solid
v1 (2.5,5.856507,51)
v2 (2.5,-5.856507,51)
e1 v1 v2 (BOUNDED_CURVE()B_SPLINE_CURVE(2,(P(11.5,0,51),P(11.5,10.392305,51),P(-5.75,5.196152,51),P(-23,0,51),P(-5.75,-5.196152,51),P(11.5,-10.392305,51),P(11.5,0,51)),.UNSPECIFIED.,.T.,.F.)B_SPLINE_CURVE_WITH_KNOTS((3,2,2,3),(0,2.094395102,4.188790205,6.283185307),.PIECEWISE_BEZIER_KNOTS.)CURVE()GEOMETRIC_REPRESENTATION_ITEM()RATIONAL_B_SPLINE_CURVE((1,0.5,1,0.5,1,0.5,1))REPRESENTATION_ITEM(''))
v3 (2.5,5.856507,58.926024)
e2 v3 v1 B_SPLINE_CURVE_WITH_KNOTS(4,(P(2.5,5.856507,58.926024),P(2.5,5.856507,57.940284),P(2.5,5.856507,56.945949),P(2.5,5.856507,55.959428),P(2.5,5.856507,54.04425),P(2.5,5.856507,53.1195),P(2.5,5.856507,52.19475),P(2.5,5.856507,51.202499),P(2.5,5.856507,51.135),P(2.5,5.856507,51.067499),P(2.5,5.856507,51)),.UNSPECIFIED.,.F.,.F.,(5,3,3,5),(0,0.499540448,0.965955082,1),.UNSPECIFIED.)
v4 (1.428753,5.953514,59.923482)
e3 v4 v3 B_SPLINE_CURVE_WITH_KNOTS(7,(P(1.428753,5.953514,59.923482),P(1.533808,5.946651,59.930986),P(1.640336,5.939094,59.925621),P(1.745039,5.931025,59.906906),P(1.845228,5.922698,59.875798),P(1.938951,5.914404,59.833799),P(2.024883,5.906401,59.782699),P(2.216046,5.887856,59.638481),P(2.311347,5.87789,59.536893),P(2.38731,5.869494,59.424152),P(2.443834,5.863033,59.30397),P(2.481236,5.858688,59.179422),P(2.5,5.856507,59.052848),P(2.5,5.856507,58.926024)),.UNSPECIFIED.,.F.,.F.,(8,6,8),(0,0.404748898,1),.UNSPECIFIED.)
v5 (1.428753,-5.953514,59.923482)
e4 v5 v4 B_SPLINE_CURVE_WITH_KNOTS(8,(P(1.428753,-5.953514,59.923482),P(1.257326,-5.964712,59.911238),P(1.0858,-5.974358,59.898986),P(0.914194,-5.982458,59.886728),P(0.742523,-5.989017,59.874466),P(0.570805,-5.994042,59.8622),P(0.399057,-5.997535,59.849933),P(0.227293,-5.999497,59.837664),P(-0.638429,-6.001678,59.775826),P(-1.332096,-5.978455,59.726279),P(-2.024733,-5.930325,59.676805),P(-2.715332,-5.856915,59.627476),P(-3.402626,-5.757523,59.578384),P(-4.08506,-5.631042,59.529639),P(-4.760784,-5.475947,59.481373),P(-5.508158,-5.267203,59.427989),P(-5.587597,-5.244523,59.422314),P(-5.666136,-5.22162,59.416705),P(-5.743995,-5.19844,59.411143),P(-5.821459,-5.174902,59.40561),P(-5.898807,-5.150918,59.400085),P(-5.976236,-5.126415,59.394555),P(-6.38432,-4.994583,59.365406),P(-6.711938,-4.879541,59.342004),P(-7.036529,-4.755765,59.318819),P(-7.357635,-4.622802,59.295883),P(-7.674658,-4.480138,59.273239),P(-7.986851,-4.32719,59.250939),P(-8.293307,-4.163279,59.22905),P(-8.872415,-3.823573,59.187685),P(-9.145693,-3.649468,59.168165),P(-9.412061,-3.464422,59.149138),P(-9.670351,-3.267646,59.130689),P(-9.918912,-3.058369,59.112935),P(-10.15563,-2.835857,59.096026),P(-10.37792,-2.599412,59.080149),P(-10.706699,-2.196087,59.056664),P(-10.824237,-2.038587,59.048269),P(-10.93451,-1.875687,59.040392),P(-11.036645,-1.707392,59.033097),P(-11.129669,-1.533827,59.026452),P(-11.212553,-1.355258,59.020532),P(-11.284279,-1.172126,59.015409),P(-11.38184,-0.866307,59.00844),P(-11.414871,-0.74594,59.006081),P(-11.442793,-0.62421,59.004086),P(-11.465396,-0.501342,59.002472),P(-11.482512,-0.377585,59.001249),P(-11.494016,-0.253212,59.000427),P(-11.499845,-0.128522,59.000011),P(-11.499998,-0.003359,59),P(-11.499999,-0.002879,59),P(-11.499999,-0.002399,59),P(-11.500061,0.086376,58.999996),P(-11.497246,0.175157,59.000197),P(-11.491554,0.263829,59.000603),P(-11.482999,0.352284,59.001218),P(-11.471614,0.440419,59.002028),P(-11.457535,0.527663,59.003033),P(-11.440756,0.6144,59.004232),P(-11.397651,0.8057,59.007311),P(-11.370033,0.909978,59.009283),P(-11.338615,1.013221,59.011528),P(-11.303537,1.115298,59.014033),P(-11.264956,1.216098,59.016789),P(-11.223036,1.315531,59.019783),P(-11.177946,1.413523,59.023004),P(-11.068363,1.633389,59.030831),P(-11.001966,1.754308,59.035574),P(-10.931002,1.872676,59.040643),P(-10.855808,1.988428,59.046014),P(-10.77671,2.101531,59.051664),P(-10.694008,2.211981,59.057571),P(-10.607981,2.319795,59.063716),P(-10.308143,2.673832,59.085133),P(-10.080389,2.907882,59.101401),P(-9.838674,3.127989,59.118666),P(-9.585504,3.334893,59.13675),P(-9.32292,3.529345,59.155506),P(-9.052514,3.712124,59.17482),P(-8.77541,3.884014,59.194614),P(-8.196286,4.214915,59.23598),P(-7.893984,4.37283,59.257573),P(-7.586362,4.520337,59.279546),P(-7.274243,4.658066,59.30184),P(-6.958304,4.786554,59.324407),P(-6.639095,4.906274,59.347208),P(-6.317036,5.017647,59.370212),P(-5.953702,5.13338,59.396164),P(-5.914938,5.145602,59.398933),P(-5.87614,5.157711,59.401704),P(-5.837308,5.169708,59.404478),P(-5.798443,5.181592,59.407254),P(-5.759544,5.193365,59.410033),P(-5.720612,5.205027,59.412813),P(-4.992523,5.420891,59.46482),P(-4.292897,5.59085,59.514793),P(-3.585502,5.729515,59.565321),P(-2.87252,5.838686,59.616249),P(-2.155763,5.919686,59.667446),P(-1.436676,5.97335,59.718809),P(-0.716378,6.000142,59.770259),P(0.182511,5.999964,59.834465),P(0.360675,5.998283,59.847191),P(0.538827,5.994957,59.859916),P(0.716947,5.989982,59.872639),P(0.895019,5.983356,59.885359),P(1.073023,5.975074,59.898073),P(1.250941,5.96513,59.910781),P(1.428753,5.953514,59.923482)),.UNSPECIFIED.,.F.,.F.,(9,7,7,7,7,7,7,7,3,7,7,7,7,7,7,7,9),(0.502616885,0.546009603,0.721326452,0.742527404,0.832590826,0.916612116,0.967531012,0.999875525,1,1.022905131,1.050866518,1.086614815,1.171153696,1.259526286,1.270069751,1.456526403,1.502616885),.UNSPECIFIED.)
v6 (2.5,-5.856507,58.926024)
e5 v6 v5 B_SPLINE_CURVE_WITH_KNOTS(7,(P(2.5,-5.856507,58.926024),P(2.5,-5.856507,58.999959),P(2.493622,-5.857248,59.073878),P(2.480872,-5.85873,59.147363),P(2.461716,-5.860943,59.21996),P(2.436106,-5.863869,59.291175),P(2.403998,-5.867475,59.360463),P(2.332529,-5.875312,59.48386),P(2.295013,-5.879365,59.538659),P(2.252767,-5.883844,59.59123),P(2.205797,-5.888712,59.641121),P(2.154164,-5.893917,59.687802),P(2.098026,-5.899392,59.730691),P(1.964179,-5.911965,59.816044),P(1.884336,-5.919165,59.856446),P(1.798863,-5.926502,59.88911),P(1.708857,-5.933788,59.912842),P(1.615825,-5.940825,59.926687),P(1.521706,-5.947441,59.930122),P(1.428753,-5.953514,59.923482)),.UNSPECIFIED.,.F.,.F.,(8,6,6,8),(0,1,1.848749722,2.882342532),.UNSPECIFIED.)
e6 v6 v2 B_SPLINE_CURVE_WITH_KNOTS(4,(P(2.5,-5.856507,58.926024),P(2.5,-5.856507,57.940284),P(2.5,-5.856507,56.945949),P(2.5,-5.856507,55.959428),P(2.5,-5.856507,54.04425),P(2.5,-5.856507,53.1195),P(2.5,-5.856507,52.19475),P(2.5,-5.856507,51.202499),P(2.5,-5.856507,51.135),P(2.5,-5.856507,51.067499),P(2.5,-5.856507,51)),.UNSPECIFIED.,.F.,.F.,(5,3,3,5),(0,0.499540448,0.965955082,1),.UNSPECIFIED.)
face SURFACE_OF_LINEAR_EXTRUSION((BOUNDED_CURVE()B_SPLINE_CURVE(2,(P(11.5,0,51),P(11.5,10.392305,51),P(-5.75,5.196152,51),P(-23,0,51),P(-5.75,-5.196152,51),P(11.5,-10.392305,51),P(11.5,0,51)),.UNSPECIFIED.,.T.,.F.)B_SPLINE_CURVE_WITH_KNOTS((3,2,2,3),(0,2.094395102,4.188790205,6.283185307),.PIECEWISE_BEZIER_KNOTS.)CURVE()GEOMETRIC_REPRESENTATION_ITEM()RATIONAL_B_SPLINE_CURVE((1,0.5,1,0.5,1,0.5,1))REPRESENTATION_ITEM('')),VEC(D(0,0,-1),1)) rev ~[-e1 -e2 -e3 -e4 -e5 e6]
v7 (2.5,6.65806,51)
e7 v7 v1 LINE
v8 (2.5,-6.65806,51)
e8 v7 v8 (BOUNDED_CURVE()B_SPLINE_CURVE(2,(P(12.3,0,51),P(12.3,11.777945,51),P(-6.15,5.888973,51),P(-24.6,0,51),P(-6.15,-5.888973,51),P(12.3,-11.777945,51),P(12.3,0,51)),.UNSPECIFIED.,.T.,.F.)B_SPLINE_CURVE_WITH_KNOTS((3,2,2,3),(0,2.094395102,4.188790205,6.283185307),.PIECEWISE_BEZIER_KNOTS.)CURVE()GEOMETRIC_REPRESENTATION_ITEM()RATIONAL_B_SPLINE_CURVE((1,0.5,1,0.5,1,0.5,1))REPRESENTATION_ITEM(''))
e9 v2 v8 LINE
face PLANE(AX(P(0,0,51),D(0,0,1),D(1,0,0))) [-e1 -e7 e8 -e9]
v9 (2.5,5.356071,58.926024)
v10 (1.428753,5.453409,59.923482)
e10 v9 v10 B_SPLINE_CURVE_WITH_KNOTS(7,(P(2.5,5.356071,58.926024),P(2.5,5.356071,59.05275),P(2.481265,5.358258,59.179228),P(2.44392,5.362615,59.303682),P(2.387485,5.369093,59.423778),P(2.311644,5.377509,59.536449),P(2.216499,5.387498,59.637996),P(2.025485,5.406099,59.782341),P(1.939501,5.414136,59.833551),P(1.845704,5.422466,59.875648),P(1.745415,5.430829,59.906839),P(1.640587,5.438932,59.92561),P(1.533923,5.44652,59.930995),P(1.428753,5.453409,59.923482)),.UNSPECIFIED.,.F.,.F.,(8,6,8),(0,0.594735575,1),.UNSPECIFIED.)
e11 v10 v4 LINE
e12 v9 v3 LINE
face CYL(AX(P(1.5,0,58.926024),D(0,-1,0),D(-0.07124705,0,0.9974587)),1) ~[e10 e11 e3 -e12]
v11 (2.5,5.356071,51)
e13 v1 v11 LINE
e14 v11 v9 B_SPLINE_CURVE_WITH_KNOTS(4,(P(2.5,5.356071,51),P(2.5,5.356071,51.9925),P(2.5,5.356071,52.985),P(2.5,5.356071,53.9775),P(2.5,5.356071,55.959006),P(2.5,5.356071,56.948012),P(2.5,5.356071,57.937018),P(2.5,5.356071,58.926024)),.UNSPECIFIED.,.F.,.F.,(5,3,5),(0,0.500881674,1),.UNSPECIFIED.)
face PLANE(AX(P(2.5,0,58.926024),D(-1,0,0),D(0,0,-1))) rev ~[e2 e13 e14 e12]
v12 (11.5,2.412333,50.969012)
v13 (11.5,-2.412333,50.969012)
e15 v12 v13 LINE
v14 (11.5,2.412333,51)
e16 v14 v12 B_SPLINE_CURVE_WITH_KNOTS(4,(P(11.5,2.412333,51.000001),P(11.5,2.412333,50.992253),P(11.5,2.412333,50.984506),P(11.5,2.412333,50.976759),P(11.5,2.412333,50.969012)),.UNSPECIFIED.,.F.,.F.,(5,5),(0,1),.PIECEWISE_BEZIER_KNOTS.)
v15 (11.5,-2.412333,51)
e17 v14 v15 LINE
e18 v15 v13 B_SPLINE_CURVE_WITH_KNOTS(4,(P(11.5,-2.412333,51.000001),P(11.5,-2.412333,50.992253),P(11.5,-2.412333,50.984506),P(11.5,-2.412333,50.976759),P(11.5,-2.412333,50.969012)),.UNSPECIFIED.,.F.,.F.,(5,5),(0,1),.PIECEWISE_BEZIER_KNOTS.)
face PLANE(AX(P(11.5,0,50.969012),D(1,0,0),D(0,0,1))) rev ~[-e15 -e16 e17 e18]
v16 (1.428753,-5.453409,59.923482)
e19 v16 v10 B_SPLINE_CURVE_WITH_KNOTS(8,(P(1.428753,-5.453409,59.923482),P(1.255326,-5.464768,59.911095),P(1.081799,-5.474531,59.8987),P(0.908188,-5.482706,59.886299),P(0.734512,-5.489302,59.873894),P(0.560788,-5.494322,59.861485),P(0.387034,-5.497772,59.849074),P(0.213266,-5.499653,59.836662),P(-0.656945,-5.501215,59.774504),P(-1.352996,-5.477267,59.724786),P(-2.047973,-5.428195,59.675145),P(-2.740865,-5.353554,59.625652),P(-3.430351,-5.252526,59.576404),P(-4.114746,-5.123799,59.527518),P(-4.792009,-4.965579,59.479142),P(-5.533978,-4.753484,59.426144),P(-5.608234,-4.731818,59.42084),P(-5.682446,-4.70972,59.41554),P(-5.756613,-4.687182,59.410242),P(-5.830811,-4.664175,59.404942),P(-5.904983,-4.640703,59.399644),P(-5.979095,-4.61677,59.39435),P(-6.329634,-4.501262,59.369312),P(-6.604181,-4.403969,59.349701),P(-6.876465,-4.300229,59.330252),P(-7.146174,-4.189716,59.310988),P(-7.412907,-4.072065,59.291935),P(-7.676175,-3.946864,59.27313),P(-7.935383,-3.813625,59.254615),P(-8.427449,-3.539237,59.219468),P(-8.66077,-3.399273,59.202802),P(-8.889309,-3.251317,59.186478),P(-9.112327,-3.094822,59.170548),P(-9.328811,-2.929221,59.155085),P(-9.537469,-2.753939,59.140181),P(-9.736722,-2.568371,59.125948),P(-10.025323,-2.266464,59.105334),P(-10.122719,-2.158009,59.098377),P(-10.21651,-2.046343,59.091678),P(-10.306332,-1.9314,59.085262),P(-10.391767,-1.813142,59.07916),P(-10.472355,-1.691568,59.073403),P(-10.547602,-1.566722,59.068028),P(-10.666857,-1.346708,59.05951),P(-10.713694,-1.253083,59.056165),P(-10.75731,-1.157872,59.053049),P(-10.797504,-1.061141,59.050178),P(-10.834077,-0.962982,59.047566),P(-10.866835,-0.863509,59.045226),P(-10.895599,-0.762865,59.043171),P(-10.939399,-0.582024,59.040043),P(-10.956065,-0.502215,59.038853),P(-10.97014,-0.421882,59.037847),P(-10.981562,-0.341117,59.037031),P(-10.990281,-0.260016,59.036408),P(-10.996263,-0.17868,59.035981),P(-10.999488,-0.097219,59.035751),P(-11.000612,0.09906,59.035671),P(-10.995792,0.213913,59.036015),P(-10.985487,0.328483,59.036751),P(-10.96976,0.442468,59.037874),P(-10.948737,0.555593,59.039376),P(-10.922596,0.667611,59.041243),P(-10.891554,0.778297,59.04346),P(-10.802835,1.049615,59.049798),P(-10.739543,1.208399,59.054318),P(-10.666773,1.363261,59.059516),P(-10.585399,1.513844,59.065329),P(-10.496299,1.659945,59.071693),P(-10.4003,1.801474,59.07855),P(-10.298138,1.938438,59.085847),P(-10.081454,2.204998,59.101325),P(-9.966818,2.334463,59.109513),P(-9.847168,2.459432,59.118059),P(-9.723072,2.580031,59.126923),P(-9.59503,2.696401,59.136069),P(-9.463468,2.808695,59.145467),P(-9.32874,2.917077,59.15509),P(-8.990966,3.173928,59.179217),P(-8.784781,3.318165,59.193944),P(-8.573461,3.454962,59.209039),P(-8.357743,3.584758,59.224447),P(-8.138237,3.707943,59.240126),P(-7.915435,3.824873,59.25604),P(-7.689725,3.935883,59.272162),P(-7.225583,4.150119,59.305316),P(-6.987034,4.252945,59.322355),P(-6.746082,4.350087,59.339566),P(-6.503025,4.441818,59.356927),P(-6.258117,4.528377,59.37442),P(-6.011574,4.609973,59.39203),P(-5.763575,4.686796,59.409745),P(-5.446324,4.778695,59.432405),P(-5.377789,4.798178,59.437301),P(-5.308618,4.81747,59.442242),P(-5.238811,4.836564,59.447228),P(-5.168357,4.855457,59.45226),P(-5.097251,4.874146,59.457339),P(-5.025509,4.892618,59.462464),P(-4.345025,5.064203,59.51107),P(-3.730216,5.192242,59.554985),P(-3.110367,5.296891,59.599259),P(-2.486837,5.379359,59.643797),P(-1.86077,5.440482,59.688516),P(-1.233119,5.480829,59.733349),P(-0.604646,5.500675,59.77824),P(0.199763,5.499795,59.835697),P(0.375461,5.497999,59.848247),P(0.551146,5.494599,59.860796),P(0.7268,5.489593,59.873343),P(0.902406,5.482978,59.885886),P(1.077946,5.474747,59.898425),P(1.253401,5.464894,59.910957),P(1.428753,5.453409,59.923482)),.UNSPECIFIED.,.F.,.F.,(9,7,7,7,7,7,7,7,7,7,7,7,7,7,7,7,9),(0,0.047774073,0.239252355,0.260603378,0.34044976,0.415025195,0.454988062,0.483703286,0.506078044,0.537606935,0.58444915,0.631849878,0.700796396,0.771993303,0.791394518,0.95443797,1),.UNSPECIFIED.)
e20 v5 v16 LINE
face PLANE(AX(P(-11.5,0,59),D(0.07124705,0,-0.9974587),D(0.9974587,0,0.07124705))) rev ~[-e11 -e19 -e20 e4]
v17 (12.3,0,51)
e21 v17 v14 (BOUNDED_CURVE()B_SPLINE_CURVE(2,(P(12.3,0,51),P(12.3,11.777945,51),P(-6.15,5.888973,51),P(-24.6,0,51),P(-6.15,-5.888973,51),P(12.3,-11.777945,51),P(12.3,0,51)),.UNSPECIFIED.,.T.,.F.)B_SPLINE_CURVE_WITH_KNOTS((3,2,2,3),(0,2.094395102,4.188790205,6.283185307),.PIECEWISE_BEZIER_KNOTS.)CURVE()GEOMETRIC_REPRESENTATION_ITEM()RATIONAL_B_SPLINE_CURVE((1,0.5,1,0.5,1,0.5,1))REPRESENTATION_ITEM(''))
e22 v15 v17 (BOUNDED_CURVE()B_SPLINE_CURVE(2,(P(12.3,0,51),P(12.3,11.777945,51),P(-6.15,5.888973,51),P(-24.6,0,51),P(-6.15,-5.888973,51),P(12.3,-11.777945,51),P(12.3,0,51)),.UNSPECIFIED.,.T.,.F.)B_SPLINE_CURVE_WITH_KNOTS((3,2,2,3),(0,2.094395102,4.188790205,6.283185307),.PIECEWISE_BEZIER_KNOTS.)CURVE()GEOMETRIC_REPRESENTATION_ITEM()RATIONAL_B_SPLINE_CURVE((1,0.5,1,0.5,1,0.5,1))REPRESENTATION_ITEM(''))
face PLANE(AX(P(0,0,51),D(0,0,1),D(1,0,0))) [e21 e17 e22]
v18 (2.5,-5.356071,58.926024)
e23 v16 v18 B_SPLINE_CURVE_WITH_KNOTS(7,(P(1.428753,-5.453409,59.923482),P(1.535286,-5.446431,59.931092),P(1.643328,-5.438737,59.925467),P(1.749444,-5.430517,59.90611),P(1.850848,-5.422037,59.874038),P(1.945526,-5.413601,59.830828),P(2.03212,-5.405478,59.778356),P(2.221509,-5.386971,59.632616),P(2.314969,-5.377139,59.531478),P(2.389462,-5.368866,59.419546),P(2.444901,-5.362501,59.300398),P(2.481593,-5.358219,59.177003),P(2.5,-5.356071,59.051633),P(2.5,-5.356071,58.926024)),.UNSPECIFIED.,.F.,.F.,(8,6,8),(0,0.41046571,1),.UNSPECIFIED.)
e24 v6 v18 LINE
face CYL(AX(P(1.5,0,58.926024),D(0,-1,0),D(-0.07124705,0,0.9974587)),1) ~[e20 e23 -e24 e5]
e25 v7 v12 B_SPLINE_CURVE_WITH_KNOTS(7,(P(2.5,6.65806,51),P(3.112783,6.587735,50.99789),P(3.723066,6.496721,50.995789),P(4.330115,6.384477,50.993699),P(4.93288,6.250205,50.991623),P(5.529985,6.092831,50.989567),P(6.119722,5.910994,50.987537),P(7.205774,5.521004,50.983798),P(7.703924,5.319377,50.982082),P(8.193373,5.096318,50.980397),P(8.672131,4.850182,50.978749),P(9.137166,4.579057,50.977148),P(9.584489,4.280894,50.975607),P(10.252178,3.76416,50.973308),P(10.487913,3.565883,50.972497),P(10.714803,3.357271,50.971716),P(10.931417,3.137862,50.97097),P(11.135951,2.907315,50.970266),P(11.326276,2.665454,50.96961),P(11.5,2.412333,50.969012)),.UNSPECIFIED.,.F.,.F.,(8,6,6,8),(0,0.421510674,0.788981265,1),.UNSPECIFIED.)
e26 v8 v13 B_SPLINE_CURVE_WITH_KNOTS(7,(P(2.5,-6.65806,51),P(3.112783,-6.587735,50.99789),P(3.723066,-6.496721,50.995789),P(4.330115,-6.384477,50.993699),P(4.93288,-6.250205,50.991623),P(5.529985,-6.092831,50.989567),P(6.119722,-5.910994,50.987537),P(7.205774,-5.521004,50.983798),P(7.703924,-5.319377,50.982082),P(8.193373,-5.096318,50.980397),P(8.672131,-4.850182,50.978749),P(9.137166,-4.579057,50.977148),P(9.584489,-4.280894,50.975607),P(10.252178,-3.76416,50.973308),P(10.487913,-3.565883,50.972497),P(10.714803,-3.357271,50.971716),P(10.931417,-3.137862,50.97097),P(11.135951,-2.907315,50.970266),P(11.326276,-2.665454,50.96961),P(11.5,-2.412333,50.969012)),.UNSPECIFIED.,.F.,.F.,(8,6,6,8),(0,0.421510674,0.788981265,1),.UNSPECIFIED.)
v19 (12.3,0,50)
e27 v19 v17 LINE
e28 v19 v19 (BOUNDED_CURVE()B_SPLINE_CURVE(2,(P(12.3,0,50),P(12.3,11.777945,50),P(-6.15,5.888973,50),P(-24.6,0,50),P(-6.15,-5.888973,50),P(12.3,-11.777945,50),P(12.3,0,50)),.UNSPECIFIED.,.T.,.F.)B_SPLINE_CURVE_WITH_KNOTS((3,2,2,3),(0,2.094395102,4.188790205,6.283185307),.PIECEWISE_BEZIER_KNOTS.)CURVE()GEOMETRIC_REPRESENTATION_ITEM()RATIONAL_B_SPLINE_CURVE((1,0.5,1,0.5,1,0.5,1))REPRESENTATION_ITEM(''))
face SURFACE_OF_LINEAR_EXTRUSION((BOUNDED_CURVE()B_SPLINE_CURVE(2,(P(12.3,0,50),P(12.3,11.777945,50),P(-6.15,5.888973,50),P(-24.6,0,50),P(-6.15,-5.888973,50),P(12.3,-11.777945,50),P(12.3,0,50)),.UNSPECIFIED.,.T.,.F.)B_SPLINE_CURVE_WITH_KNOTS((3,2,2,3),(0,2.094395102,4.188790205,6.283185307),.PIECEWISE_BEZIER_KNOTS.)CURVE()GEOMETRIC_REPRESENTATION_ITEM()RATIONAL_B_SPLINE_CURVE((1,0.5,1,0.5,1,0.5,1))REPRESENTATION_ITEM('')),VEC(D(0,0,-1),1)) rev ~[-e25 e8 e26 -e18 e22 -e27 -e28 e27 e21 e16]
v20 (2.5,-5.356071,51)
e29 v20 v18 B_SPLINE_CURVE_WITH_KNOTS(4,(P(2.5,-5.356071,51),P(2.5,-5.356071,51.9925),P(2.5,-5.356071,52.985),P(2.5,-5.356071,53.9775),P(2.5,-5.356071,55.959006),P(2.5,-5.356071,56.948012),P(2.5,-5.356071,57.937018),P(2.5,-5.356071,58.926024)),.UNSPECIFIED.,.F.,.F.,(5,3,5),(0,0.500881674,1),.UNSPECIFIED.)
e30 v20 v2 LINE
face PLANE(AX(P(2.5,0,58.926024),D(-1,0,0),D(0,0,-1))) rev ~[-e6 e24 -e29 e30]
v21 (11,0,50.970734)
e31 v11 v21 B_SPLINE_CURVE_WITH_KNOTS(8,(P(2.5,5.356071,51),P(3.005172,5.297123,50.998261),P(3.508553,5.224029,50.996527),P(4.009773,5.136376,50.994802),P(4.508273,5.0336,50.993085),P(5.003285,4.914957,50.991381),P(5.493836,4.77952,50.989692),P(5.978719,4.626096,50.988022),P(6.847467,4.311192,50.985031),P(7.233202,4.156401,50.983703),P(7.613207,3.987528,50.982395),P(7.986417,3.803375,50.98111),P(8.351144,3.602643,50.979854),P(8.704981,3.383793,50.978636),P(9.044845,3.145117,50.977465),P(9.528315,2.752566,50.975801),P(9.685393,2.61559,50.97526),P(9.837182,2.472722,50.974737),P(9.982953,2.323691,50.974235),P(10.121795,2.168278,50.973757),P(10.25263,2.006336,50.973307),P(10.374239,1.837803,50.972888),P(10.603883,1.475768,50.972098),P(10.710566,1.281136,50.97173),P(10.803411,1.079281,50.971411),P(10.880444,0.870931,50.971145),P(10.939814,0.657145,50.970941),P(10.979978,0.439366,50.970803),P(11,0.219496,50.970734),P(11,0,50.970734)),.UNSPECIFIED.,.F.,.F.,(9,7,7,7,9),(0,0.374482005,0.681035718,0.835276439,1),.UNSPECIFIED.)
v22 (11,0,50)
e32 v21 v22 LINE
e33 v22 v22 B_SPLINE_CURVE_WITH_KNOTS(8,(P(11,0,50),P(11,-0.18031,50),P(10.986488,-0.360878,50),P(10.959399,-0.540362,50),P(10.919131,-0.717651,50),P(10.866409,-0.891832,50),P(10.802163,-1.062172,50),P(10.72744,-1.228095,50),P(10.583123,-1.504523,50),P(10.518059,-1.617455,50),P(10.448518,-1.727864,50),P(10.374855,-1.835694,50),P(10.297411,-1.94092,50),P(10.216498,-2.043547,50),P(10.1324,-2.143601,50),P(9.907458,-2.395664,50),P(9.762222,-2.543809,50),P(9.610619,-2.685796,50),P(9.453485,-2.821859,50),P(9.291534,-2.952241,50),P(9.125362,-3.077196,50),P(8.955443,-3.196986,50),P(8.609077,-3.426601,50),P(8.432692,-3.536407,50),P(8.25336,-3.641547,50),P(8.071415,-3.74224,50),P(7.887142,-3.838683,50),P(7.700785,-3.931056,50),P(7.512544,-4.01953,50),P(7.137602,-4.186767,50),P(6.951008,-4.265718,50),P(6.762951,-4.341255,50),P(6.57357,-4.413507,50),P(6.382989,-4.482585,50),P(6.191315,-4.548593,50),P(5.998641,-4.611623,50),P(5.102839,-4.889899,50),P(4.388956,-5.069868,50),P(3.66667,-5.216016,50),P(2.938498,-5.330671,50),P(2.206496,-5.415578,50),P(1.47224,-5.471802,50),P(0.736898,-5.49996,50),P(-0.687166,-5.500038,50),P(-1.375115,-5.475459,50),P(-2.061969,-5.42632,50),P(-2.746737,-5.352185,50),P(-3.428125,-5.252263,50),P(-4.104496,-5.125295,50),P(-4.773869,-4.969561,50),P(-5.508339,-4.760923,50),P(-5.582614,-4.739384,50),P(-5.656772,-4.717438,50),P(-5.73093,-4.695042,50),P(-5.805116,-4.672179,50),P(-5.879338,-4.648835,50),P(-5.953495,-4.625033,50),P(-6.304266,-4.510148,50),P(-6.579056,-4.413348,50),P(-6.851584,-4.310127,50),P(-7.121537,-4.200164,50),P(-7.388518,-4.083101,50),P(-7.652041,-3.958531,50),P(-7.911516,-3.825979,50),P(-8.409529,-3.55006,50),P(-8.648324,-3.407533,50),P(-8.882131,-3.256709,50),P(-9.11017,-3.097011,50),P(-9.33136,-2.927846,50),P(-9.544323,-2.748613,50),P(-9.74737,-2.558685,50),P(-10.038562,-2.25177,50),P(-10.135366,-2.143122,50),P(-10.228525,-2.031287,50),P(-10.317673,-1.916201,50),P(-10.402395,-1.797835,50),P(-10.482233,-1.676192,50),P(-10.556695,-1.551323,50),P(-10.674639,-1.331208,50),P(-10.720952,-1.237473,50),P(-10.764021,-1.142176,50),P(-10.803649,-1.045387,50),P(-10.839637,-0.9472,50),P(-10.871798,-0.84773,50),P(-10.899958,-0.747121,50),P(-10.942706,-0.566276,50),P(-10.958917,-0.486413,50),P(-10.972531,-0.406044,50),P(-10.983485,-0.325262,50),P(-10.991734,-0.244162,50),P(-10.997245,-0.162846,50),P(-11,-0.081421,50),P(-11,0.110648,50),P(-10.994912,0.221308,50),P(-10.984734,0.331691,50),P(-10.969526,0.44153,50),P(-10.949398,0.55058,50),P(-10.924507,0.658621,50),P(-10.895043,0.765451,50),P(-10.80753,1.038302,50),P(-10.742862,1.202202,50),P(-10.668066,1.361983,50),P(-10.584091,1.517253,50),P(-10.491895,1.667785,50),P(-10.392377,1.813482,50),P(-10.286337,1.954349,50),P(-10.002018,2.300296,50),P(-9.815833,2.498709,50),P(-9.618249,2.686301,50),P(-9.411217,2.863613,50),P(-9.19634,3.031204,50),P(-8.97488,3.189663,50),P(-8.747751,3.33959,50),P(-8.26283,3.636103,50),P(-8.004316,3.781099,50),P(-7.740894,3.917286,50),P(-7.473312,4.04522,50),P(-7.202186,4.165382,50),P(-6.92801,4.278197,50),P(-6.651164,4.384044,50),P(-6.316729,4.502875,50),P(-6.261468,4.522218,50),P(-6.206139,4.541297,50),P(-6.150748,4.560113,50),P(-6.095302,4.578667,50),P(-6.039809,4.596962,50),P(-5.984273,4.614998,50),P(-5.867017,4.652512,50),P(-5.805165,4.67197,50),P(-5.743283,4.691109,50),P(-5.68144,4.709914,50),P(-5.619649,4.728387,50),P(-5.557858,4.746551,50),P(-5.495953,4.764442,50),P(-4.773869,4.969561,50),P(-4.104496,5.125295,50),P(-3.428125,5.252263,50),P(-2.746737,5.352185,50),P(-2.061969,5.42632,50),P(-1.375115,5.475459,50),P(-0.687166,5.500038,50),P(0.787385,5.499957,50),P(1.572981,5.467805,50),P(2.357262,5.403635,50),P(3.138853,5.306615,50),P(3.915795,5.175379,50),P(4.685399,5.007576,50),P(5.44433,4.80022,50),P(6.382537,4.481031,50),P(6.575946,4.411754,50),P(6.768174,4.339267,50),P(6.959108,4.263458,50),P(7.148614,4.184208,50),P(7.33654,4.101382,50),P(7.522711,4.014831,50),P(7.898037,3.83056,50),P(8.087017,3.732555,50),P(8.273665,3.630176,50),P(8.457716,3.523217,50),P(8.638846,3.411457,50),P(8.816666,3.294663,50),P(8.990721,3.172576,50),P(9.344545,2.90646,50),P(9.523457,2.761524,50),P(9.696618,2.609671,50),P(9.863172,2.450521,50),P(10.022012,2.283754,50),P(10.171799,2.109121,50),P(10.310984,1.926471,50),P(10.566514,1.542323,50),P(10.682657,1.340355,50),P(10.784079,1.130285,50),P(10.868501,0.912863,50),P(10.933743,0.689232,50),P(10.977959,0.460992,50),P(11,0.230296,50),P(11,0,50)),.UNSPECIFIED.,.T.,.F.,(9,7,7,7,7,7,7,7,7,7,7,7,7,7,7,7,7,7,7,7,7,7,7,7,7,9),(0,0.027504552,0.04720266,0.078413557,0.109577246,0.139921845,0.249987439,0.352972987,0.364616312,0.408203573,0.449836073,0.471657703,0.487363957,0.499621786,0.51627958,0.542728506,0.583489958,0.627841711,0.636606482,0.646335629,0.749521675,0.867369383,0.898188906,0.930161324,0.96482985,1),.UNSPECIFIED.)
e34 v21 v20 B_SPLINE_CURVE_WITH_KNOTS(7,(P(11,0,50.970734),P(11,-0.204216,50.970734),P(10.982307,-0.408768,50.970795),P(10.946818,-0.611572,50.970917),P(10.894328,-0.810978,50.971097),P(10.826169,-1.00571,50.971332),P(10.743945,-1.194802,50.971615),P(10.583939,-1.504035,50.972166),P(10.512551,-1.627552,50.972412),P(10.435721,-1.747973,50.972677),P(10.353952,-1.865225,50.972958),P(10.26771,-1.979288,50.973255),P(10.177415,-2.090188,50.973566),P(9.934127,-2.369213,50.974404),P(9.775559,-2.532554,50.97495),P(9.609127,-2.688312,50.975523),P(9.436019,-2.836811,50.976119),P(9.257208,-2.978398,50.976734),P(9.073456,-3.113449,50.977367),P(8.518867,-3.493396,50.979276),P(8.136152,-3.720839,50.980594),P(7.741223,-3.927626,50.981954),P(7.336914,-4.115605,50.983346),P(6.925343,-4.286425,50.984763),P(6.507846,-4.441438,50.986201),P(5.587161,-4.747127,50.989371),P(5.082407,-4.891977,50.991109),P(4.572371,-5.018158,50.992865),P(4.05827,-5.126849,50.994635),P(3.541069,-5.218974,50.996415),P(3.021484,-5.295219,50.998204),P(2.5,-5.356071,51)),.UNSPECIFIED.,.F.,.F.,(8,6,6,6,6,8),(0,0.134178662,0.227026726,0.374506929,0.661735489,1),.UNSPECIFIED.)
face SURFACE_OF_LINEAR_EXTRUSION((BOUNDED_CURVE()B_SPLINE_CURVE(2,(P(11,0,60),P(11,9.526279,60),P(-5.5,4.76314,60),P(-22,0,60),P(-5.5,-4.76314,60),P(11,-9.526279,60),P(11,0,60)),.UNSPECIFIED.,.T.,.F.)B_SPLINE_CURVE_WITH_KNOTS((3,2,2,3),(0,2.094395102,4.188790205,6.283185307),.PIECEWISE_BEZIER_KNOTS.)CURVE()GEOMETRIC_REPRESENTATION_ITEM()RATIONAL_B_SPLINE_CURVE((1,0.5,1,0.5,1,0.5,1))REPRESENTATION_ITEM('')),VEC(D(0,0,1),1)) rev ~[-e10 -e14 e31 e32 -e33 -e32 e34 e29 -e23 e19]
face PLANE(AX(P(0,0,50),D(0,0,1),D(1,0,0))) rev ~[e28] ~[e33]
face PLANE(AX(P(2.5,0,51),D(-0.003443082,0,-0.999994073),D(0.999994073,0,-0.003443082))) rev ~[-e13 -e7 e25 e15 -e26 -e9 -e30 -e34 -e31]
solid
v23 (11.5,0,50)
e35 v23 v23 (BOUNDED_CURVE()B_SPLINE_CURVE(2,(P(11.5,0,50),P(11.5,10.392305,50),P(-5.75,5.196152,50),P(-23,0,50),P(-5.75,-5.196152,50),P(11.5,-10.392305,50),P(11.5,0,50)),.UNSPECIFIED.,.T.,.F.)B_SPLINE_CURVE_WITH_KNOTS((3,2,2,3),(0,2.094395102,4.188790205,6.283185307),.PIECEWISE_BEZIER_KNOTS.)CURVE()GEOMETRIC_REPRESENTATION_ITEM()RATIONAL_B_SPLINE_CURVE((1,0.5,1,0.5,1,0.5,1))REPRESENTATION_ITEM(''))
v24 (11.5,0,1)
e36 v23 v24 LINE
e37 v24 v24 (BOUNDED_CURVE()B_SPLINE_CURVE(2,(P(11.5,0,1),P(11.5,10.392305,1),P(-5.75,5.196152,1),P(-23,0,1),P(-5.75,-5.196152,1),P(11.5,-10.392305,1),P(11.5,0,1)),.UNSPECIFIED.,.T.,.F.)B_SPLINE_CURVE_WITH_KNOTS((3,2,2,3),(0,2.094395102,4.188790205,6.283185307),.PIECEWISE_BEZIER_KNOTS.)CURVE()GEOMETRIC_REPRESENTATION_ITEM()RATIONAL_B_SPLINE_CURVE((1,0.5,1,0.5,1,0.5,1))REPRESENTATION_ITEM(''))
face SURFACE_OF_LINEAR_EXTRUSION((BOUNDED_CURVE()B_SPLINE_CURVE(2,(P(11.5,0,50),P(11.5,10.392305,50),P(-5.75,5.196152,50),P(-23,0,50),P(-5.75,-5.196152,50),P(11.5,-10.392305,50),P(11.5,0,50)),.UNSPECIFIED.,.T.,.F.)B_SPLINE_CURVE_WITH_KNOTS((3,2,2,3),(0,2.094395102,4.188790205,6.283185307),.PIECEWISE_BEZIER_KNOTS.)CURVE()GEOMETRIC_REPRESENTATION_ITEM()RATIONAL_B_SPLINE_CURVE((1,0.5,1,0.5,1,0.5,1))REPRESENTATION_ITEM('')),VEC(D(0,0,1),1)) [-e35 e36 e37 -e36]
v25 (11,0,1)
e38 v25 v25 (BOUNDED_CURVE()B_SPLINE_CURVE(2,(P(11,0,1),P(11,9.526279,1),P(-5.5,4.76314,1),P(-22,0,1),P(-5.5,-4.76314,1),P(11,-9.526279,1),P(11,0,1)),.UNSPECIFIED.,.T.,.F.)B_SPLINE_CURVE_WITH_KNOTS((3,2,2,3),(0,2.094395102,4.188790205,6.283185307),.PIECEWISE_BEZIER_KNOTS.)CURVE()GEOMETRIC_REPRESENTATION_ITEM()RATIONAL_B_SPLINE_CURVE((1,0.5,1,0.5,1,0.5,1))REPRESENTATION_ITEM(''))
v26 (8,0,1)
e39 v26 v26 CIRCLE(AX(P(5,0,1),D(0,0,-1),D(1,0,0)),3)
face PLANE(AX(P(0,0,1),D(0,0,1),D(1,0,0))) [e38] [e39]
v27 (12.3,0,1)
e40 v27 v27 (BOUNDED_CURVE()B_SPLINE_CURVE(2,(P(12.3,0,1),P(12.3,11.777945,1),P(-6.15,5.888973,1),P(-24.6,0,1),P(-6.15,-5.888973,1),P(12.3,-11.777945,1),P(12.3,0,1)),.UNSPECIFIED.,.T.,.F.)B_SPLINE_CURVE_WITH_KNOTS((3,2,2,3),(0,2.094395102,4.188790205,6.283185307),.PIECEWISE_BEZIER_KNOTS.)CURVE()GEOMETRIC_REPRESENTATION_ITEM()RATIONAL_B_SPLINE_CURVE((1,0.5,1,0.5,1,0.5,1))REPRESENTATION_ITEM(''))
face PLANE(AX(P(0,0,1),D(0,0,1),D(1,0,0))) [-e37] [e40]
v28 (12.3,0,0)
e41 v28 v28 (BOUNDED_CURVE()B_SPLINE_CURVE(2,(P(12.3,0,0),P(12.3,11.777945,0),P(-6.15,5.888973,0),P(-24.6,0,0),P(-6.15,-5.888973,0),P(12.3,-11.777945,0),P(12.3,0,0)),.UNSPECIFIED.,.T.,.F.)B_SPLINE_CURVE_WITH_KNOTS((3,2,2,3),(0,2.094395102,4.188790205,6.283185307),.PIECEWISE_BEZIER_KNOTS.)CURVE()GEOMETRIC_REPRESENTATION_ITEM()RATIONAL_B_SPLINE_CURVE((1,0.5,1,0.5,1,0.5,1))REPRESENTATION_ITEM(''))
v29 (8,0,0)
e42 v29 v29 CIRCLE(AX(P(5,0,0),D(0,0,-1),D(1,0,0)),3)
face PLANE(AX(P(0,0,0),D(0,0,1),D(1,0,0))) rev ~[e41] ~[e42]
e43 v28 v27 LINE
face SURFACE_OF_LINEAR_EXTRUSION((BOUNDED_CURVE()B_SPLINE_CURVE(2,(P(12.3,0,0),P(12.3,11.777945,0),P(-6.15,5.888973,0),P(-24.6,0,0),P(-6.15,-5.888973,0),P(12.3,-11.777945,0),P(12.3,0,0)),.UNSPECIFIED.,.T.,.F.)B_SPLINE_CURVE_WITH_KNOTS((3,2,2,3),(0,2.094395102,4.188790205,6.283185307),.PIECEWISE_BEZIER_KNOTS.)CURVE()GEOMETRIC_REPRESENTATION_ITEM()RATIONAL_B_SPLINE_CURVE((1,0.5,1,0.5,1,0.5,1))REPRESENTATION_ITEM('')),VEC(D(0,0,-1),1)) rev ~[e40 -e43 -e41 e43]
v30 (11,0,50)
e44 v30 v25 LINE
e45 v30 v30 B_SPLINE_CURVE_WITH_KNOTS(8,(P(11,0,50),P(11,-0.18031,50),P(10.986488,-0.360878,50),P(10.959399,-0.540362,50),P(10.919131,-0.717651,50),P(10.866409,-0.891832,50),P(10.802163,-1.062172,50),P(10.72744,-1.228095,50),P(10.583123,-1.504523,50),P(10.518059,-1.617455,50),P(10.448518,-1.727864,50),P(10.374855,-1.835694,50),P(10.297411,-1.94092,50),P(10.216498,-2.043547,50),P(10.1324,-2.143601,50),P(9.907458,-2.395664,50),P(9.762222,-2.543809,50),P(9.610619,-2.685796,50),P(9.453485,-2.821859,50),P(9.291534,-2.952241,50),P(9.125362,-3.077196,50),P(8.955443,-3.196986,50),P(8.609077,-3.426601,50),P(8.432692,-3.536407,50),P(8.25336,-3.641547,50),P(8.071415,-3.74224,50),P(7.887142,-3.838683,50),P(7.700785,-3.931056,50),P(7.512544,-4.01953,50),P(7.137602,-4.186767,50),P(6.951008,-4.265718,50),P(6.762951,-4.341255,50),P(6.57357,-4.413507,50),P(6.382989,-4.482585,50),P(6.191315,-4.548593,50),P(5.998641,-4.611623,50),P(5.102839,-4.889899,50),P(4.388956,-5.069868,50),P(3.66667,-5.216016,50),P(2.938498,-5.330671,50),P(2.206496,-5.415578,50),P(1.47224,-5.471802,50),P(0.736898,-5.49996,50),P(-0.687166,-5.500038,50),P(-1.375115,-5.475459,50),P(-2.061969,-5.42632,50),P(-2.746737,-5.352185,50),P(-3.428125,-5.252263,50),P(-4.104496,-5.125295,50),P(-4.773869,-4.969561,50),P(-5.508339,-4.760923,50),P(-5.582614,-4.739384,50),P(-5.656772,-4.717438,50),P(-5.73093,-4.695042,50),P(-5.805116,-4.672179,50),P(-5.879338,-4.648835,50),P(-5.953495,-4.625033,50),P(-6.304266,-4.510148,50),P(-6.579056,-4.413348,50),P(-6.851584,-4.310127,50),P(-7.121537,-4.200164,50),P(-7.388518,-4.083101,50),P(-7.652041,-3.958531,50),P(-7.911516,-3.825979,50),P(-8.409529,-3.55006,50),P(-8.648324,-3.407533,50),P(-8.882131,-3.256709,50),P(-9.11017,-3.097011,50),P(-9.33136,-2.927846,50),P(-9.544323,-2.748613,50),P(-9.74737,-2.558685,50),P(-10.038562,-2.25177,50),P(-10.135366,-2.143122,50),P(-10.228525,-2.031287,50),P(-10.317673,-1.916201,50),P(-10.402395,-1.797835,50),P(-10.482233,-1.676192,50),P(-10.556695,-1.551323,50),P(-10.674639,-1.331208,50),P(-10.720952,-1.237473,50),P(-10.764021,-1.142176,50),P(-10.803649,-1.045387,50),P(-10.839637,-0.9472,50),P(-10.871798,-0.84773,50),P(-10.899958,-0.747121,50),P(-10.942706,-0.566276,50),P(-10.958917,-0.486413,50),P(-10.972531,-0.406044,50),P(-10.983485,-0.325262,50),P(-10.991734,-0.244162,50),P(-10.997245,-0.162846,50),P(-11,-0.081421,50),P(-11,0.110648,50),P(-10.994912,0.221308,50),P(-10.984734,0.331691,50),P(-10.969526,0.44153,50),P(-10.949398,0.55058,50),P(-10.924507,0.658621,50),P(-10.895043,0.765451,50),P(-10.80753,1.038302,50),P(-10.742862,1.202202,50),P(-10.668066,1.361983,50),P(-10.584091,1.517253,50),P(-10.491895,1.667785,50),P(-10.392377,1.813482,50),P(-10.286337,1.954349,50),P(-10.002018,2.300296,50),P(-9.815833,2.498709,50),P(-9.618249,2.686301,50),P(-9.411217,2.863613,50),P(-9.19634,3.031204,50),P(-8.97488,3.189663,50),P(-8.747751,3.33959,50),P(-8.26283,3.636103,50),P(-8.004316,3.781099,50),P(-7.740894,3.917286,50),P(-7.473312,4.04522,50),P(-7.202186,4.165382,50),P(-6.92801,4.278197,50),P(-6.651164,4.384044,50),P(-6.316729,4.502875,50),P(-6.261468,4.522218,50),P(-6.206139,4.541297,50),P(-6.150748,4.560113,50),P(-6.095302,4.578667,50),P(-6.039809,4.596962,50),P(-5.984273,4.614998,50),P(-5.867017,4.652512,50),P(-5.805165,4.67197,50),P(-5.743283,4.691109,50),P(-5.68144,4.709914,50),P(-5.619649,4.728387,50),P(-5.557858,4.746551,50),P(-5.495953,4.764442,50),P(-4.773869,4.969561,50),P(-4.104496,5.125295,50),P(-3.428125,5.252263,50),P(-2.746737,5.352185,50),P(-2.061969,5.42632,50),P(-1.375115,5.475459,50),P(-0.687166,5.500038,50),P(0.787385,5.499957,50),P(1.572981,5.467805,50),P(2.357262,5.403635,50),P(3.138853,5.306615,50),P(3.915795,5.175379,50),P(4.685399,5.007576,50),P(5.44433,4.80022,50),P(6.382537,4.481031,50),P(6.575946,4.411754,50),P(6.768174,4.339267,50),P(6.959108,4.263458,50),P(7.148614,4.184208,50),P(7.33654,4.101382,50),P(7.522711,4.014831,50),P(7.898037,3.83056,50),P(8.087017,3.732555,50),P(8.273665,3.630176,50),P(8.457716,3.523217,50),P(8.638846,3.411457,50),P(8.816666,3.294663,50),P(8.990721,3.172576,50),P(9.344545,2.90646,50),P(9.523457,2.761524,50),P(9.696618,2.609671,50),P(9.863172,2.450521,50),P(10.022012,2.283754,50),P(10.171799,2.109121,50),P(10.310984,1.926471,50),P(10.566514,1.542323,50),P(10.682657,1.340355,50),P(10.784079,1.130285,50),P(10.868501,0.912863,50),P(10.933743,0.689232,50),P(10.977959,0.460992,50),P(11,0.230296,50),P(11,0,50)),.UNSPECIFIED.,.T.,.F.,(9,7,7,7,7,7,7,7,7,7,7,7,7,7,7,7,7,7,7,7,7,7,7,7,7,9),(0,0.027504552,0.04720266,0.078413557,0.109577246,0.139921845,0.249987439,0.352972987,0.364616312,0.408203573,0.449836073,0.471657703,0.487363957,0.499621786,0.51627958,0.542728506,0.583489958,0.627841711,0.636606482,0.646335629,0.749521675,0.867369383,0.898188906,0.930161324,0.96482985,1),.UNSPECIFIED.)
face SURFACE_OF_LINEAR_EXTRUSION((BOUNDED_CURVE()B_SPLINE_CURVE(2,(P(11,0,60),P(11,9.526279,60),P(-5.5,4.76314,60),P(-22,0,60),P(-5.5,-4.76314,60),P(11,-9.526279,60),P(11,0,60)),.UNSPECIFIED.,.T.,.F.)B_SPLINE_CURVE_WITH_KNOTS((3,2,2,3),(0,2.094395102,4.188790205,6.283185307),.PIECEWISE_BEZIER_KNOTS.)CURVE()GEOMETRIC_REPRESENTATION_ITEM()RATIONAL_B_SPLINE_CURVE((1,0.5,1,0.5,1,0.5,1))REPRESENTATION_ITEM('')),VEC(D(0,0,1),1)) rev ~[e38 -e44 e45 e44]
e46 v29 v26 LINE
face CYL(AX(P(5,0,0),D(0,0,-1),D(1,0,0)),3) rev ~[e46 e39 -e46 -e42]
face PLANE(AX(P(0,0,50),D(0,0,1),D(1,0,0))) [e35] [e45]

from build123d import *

# Parameters (mm, degrees)
F1_DEPTH  = 50
F3_DEPTH  = 49
F5_DEPTH  = 1
F7_DEPTH  = 9
F9_DEPTH  = 59
F11_DEPTH = 12.5
F12_R     = 3
F13_DEPTH = 61
F15_DEPTH = 49


with BuildPart() as f1:
    # F0 (on Top) → F1 (new body)
    with BuildSketch(Plane.XY):
        with BuildLine():
            add(Edge.make_bspline(
                [(12.3, 0), (12.3, 11.7779454915), (-6.15, 5.8889727457), (-24.6, 0), (-6.15, -5.8889727457), (12.3, -11.7779454915), (12.3, 0)],
                knots=[0, 0, 0, 2.0943951024, 2.0943951024, 4.1887902048, 4.1887902048, 6.2831853072, 6.2831853072, 6.2831853072], degree=2, weights=[1, 0.5, 1, 0.5, 1, 0.5, 1]))
        make_face()
    extrude(amount=F1_DEPTH)

    # F2 (on face) → F3 (cut)
    with BuildSketch(Plane.XY.offset(50)):
        with BuildLine():
            add(Edge.make_bspline(
                [(12.3, 0), (12.3, 11.7779454915), (-6.15, 5.8889727457), (-24.6, 0), (-6.15, -5.8889727457), (12.3, -11.7779454915), (12.3, 0)],
                knots=[0, 0, 0, 2.0943951024, 2.0943951024, 4.1887902048, 4.1887902048, 6.2831853072, 6.2831853072, 6.2831853072], degree=2, weights=[1, 0.5, 1, 0.5, 1, 0.5, 1]))
        make_face()
        with BuildLine():
            add(Edge.make_bspline(
                [(11.5, 0), (11.5, 10.3923048454), (-5.75, 5.1961524227), (-23, 0), (-5.75, -5.1961524227), (11.5, -10.3923048454), (11.5, 0)],
                knots=[0, 0, 0, 2.0943951024, 2.0943951024, 4.1887902048, 4.1887902048, 6.2831853072, 6.2831853072, 6.2831853072], degree=2, weights=[1, 0.5, 1, 0.5, 1, 0.5, 1]))
        make_face(mode=Mode.SUBTRACT)
    extrude(amount=-F3_DEPTH, mode=Mode.SUBTRACT)


with BuildPart() as f5:
    # F4 (on face) → F5 (new body)
    with BuildSketch(Plane.XY.offset(50)):
        with BuildLine():
            add(Edge.make_bspline(
                [(12.3, 0), (12.3, 11.7779454915), (-6.15, 5.8889727457), (-24.6, 0), (-6.15, -5.8889727457), (12.3, -11.7779454915), (12.3, 0)],
                knots=[0, 0, 0, 2.0943951024, 2.0943951024, 4.1887902048, 4.1887902048, 6.2831853072, 6.2831853072, 6.2831853072], degree=2, weights=[1, 0.5, 1, 0.5, 1, 0.5, 1]))
        make_face()
        with BuildLine():
            add(Edge.make_bspline(
                [(11.5, 0), (11.5, 10.3923048454), (-5.75, 5.1961524227), (-23, 0), (-5.75, -5.1961524227), (11.5, -10.3923048454), (11.5, 0)],
                knots=[0, 0, 0, 2.0943951024, 2.0943951024, 4.1887902048, 4.1887902048, 6.2831853072, 6.2831853072, 6.2831853072], degree=2, weights=[1, 0.5, 1, 0.5, 1, 0.5, 1]))
        make_face(mode=Mode.SUBTRACT)
        with BuildLine():
            add(Edge.make_bspline(
                [(11.5, 0), (11.5, 10.3923048454), (-5.75, 5.1961524227), (-23, 0), (-5.75, -5.1961524227), (11.5, -10.3923048454), (11.5, 0)],
                knots=[0, 0, 0, 2.0943951024, 2.0943951024, 4.1887902048, 4.1887902048, 6.2831853072, 6.2831853072, 6.2831853072], degree=2, weights=[1, 0.5, 1, 0.5, 1, 0.5, 1]))
        make_face()
    extrude(amount=F5_DEPTH)

    # F6 (on face) → F7 (join)
    with BuildSketch(Plane.XY.offset(51)):
        with BuildLine():
            add(Edge.make_bspline(
                [(11.5, 0), (11.5, 10.3923048454), (-5.75, 5.1961524227), (-23, 0), (-5.75, -5.1961524227), (11.5, -10.3923048454), (11.5, 0)],
                knots=[0, 0, 0, 2.0943951024, 2.0943951024, 4.1887902048, 4.1887902048, 6.2831853072, 6.2831853072, 6.2831853072], degree=2, weights=[1, 0.5, 1, 0.5, 1, 0.5, 1]))
        make_face()
    extrude(amount=F7_DEPTH)


with BuildPart() as f9_tool:
    # F8 (on face) → F9 (new body)
    with BuildSketch(Plane.XY.offset(60)):
        with BuildLine():
            add(Edge.make_bspline(
                [(11, 0), (11, 9.5262794416), (-5.5, 4.7631397208), (-22, 0), (-5.5, -4.7631397208), (11, -9.5262794416), (11, 0)],
                knots=[0, 0, 0, 2.0943951024, 2.0943951024, 4.1887902048, 4.1887902048, 6.2831853072, 6.2831853072, 6.2831853072], degree=2, weights=[1, 0.5, 1, 0.5, 1, 0.5, 1]))
        make_face()
    extrude(amount=-F9_DEPTH)


with BuildPart() as f1_1:
    add(f1.part)

    # F9: cut by f9_tool
    add(f9_tool.part, mode=Mode.SUBTRACT)

    # F12 (on face) → F13 (cut)
    with BuildSketch(Plane(origin=(0, 0, 0), x_dir=(1, 0, 0), z_dir=(0, 0, -1))):
        with Locations((5, 0)):
            Circle(F12_R)
    extrude(amount=-F13_DEPTH, mode=Mode.SUBTRACT)

    # F14 (on face) → F15 (cut)
    with BuildSketch(Plane.XY.offset(50)):
        with BuildLine():
            add(Edge.make_bspline(
                [(11, 0), (11, 9.5262794416), (-5.5, 4.7631397208), (-22, 0), (-5.5, -4.7631397208), (11, -9.5262794416), (11, 0)],
                knots=[0, 0, 0, 2.0943951024, 2.0943951024, 4.1887902048, 4.1887902048, 6.2831853072, 6.2831853072, 6.2831853072], degree=2, weights=[1, 0.5, 1, 0.5, 1, 0.5, 1]))
        make_face()
    extrude(amount=-F15_DEPTH, mode=Mode.SUBTRACT)


with BuildPart() as f5_1:
    add(f5.part)

    # F9: cut by f9_tool
    add(f9_tool.part, mode=Mode.SUBTRACT)

    # F10 (on Front) → F11 (cut, symmetric)
    with BuildSketch(Plane.XZ):
        with BuildLine():
            Line((2.5, 58.9260236537), (2.5, 51))
            Line((2.5, 51), (11.5, 50.9690120816))
            Line((11.5, 50.9690120816), (11.5, 60.1))
            Line((11.5, 60.1), (-11.5, 60.1))
            Line((-11.5, 60.1), (-11.5, 59))
            Line((-11.5, 59), (1.42875295, 59.9234823536))
            ThreePointArc((1.42875295, 59.9234823536), (2.1814517408, 59.6578867045), (2.5, 58.9260236537))
        make_face()
    extrude(amount=F11_DEPTH, both=True, mode=Mode.SUBTRACT)


solid = Compound([f1_1.part, f5_1.part])
